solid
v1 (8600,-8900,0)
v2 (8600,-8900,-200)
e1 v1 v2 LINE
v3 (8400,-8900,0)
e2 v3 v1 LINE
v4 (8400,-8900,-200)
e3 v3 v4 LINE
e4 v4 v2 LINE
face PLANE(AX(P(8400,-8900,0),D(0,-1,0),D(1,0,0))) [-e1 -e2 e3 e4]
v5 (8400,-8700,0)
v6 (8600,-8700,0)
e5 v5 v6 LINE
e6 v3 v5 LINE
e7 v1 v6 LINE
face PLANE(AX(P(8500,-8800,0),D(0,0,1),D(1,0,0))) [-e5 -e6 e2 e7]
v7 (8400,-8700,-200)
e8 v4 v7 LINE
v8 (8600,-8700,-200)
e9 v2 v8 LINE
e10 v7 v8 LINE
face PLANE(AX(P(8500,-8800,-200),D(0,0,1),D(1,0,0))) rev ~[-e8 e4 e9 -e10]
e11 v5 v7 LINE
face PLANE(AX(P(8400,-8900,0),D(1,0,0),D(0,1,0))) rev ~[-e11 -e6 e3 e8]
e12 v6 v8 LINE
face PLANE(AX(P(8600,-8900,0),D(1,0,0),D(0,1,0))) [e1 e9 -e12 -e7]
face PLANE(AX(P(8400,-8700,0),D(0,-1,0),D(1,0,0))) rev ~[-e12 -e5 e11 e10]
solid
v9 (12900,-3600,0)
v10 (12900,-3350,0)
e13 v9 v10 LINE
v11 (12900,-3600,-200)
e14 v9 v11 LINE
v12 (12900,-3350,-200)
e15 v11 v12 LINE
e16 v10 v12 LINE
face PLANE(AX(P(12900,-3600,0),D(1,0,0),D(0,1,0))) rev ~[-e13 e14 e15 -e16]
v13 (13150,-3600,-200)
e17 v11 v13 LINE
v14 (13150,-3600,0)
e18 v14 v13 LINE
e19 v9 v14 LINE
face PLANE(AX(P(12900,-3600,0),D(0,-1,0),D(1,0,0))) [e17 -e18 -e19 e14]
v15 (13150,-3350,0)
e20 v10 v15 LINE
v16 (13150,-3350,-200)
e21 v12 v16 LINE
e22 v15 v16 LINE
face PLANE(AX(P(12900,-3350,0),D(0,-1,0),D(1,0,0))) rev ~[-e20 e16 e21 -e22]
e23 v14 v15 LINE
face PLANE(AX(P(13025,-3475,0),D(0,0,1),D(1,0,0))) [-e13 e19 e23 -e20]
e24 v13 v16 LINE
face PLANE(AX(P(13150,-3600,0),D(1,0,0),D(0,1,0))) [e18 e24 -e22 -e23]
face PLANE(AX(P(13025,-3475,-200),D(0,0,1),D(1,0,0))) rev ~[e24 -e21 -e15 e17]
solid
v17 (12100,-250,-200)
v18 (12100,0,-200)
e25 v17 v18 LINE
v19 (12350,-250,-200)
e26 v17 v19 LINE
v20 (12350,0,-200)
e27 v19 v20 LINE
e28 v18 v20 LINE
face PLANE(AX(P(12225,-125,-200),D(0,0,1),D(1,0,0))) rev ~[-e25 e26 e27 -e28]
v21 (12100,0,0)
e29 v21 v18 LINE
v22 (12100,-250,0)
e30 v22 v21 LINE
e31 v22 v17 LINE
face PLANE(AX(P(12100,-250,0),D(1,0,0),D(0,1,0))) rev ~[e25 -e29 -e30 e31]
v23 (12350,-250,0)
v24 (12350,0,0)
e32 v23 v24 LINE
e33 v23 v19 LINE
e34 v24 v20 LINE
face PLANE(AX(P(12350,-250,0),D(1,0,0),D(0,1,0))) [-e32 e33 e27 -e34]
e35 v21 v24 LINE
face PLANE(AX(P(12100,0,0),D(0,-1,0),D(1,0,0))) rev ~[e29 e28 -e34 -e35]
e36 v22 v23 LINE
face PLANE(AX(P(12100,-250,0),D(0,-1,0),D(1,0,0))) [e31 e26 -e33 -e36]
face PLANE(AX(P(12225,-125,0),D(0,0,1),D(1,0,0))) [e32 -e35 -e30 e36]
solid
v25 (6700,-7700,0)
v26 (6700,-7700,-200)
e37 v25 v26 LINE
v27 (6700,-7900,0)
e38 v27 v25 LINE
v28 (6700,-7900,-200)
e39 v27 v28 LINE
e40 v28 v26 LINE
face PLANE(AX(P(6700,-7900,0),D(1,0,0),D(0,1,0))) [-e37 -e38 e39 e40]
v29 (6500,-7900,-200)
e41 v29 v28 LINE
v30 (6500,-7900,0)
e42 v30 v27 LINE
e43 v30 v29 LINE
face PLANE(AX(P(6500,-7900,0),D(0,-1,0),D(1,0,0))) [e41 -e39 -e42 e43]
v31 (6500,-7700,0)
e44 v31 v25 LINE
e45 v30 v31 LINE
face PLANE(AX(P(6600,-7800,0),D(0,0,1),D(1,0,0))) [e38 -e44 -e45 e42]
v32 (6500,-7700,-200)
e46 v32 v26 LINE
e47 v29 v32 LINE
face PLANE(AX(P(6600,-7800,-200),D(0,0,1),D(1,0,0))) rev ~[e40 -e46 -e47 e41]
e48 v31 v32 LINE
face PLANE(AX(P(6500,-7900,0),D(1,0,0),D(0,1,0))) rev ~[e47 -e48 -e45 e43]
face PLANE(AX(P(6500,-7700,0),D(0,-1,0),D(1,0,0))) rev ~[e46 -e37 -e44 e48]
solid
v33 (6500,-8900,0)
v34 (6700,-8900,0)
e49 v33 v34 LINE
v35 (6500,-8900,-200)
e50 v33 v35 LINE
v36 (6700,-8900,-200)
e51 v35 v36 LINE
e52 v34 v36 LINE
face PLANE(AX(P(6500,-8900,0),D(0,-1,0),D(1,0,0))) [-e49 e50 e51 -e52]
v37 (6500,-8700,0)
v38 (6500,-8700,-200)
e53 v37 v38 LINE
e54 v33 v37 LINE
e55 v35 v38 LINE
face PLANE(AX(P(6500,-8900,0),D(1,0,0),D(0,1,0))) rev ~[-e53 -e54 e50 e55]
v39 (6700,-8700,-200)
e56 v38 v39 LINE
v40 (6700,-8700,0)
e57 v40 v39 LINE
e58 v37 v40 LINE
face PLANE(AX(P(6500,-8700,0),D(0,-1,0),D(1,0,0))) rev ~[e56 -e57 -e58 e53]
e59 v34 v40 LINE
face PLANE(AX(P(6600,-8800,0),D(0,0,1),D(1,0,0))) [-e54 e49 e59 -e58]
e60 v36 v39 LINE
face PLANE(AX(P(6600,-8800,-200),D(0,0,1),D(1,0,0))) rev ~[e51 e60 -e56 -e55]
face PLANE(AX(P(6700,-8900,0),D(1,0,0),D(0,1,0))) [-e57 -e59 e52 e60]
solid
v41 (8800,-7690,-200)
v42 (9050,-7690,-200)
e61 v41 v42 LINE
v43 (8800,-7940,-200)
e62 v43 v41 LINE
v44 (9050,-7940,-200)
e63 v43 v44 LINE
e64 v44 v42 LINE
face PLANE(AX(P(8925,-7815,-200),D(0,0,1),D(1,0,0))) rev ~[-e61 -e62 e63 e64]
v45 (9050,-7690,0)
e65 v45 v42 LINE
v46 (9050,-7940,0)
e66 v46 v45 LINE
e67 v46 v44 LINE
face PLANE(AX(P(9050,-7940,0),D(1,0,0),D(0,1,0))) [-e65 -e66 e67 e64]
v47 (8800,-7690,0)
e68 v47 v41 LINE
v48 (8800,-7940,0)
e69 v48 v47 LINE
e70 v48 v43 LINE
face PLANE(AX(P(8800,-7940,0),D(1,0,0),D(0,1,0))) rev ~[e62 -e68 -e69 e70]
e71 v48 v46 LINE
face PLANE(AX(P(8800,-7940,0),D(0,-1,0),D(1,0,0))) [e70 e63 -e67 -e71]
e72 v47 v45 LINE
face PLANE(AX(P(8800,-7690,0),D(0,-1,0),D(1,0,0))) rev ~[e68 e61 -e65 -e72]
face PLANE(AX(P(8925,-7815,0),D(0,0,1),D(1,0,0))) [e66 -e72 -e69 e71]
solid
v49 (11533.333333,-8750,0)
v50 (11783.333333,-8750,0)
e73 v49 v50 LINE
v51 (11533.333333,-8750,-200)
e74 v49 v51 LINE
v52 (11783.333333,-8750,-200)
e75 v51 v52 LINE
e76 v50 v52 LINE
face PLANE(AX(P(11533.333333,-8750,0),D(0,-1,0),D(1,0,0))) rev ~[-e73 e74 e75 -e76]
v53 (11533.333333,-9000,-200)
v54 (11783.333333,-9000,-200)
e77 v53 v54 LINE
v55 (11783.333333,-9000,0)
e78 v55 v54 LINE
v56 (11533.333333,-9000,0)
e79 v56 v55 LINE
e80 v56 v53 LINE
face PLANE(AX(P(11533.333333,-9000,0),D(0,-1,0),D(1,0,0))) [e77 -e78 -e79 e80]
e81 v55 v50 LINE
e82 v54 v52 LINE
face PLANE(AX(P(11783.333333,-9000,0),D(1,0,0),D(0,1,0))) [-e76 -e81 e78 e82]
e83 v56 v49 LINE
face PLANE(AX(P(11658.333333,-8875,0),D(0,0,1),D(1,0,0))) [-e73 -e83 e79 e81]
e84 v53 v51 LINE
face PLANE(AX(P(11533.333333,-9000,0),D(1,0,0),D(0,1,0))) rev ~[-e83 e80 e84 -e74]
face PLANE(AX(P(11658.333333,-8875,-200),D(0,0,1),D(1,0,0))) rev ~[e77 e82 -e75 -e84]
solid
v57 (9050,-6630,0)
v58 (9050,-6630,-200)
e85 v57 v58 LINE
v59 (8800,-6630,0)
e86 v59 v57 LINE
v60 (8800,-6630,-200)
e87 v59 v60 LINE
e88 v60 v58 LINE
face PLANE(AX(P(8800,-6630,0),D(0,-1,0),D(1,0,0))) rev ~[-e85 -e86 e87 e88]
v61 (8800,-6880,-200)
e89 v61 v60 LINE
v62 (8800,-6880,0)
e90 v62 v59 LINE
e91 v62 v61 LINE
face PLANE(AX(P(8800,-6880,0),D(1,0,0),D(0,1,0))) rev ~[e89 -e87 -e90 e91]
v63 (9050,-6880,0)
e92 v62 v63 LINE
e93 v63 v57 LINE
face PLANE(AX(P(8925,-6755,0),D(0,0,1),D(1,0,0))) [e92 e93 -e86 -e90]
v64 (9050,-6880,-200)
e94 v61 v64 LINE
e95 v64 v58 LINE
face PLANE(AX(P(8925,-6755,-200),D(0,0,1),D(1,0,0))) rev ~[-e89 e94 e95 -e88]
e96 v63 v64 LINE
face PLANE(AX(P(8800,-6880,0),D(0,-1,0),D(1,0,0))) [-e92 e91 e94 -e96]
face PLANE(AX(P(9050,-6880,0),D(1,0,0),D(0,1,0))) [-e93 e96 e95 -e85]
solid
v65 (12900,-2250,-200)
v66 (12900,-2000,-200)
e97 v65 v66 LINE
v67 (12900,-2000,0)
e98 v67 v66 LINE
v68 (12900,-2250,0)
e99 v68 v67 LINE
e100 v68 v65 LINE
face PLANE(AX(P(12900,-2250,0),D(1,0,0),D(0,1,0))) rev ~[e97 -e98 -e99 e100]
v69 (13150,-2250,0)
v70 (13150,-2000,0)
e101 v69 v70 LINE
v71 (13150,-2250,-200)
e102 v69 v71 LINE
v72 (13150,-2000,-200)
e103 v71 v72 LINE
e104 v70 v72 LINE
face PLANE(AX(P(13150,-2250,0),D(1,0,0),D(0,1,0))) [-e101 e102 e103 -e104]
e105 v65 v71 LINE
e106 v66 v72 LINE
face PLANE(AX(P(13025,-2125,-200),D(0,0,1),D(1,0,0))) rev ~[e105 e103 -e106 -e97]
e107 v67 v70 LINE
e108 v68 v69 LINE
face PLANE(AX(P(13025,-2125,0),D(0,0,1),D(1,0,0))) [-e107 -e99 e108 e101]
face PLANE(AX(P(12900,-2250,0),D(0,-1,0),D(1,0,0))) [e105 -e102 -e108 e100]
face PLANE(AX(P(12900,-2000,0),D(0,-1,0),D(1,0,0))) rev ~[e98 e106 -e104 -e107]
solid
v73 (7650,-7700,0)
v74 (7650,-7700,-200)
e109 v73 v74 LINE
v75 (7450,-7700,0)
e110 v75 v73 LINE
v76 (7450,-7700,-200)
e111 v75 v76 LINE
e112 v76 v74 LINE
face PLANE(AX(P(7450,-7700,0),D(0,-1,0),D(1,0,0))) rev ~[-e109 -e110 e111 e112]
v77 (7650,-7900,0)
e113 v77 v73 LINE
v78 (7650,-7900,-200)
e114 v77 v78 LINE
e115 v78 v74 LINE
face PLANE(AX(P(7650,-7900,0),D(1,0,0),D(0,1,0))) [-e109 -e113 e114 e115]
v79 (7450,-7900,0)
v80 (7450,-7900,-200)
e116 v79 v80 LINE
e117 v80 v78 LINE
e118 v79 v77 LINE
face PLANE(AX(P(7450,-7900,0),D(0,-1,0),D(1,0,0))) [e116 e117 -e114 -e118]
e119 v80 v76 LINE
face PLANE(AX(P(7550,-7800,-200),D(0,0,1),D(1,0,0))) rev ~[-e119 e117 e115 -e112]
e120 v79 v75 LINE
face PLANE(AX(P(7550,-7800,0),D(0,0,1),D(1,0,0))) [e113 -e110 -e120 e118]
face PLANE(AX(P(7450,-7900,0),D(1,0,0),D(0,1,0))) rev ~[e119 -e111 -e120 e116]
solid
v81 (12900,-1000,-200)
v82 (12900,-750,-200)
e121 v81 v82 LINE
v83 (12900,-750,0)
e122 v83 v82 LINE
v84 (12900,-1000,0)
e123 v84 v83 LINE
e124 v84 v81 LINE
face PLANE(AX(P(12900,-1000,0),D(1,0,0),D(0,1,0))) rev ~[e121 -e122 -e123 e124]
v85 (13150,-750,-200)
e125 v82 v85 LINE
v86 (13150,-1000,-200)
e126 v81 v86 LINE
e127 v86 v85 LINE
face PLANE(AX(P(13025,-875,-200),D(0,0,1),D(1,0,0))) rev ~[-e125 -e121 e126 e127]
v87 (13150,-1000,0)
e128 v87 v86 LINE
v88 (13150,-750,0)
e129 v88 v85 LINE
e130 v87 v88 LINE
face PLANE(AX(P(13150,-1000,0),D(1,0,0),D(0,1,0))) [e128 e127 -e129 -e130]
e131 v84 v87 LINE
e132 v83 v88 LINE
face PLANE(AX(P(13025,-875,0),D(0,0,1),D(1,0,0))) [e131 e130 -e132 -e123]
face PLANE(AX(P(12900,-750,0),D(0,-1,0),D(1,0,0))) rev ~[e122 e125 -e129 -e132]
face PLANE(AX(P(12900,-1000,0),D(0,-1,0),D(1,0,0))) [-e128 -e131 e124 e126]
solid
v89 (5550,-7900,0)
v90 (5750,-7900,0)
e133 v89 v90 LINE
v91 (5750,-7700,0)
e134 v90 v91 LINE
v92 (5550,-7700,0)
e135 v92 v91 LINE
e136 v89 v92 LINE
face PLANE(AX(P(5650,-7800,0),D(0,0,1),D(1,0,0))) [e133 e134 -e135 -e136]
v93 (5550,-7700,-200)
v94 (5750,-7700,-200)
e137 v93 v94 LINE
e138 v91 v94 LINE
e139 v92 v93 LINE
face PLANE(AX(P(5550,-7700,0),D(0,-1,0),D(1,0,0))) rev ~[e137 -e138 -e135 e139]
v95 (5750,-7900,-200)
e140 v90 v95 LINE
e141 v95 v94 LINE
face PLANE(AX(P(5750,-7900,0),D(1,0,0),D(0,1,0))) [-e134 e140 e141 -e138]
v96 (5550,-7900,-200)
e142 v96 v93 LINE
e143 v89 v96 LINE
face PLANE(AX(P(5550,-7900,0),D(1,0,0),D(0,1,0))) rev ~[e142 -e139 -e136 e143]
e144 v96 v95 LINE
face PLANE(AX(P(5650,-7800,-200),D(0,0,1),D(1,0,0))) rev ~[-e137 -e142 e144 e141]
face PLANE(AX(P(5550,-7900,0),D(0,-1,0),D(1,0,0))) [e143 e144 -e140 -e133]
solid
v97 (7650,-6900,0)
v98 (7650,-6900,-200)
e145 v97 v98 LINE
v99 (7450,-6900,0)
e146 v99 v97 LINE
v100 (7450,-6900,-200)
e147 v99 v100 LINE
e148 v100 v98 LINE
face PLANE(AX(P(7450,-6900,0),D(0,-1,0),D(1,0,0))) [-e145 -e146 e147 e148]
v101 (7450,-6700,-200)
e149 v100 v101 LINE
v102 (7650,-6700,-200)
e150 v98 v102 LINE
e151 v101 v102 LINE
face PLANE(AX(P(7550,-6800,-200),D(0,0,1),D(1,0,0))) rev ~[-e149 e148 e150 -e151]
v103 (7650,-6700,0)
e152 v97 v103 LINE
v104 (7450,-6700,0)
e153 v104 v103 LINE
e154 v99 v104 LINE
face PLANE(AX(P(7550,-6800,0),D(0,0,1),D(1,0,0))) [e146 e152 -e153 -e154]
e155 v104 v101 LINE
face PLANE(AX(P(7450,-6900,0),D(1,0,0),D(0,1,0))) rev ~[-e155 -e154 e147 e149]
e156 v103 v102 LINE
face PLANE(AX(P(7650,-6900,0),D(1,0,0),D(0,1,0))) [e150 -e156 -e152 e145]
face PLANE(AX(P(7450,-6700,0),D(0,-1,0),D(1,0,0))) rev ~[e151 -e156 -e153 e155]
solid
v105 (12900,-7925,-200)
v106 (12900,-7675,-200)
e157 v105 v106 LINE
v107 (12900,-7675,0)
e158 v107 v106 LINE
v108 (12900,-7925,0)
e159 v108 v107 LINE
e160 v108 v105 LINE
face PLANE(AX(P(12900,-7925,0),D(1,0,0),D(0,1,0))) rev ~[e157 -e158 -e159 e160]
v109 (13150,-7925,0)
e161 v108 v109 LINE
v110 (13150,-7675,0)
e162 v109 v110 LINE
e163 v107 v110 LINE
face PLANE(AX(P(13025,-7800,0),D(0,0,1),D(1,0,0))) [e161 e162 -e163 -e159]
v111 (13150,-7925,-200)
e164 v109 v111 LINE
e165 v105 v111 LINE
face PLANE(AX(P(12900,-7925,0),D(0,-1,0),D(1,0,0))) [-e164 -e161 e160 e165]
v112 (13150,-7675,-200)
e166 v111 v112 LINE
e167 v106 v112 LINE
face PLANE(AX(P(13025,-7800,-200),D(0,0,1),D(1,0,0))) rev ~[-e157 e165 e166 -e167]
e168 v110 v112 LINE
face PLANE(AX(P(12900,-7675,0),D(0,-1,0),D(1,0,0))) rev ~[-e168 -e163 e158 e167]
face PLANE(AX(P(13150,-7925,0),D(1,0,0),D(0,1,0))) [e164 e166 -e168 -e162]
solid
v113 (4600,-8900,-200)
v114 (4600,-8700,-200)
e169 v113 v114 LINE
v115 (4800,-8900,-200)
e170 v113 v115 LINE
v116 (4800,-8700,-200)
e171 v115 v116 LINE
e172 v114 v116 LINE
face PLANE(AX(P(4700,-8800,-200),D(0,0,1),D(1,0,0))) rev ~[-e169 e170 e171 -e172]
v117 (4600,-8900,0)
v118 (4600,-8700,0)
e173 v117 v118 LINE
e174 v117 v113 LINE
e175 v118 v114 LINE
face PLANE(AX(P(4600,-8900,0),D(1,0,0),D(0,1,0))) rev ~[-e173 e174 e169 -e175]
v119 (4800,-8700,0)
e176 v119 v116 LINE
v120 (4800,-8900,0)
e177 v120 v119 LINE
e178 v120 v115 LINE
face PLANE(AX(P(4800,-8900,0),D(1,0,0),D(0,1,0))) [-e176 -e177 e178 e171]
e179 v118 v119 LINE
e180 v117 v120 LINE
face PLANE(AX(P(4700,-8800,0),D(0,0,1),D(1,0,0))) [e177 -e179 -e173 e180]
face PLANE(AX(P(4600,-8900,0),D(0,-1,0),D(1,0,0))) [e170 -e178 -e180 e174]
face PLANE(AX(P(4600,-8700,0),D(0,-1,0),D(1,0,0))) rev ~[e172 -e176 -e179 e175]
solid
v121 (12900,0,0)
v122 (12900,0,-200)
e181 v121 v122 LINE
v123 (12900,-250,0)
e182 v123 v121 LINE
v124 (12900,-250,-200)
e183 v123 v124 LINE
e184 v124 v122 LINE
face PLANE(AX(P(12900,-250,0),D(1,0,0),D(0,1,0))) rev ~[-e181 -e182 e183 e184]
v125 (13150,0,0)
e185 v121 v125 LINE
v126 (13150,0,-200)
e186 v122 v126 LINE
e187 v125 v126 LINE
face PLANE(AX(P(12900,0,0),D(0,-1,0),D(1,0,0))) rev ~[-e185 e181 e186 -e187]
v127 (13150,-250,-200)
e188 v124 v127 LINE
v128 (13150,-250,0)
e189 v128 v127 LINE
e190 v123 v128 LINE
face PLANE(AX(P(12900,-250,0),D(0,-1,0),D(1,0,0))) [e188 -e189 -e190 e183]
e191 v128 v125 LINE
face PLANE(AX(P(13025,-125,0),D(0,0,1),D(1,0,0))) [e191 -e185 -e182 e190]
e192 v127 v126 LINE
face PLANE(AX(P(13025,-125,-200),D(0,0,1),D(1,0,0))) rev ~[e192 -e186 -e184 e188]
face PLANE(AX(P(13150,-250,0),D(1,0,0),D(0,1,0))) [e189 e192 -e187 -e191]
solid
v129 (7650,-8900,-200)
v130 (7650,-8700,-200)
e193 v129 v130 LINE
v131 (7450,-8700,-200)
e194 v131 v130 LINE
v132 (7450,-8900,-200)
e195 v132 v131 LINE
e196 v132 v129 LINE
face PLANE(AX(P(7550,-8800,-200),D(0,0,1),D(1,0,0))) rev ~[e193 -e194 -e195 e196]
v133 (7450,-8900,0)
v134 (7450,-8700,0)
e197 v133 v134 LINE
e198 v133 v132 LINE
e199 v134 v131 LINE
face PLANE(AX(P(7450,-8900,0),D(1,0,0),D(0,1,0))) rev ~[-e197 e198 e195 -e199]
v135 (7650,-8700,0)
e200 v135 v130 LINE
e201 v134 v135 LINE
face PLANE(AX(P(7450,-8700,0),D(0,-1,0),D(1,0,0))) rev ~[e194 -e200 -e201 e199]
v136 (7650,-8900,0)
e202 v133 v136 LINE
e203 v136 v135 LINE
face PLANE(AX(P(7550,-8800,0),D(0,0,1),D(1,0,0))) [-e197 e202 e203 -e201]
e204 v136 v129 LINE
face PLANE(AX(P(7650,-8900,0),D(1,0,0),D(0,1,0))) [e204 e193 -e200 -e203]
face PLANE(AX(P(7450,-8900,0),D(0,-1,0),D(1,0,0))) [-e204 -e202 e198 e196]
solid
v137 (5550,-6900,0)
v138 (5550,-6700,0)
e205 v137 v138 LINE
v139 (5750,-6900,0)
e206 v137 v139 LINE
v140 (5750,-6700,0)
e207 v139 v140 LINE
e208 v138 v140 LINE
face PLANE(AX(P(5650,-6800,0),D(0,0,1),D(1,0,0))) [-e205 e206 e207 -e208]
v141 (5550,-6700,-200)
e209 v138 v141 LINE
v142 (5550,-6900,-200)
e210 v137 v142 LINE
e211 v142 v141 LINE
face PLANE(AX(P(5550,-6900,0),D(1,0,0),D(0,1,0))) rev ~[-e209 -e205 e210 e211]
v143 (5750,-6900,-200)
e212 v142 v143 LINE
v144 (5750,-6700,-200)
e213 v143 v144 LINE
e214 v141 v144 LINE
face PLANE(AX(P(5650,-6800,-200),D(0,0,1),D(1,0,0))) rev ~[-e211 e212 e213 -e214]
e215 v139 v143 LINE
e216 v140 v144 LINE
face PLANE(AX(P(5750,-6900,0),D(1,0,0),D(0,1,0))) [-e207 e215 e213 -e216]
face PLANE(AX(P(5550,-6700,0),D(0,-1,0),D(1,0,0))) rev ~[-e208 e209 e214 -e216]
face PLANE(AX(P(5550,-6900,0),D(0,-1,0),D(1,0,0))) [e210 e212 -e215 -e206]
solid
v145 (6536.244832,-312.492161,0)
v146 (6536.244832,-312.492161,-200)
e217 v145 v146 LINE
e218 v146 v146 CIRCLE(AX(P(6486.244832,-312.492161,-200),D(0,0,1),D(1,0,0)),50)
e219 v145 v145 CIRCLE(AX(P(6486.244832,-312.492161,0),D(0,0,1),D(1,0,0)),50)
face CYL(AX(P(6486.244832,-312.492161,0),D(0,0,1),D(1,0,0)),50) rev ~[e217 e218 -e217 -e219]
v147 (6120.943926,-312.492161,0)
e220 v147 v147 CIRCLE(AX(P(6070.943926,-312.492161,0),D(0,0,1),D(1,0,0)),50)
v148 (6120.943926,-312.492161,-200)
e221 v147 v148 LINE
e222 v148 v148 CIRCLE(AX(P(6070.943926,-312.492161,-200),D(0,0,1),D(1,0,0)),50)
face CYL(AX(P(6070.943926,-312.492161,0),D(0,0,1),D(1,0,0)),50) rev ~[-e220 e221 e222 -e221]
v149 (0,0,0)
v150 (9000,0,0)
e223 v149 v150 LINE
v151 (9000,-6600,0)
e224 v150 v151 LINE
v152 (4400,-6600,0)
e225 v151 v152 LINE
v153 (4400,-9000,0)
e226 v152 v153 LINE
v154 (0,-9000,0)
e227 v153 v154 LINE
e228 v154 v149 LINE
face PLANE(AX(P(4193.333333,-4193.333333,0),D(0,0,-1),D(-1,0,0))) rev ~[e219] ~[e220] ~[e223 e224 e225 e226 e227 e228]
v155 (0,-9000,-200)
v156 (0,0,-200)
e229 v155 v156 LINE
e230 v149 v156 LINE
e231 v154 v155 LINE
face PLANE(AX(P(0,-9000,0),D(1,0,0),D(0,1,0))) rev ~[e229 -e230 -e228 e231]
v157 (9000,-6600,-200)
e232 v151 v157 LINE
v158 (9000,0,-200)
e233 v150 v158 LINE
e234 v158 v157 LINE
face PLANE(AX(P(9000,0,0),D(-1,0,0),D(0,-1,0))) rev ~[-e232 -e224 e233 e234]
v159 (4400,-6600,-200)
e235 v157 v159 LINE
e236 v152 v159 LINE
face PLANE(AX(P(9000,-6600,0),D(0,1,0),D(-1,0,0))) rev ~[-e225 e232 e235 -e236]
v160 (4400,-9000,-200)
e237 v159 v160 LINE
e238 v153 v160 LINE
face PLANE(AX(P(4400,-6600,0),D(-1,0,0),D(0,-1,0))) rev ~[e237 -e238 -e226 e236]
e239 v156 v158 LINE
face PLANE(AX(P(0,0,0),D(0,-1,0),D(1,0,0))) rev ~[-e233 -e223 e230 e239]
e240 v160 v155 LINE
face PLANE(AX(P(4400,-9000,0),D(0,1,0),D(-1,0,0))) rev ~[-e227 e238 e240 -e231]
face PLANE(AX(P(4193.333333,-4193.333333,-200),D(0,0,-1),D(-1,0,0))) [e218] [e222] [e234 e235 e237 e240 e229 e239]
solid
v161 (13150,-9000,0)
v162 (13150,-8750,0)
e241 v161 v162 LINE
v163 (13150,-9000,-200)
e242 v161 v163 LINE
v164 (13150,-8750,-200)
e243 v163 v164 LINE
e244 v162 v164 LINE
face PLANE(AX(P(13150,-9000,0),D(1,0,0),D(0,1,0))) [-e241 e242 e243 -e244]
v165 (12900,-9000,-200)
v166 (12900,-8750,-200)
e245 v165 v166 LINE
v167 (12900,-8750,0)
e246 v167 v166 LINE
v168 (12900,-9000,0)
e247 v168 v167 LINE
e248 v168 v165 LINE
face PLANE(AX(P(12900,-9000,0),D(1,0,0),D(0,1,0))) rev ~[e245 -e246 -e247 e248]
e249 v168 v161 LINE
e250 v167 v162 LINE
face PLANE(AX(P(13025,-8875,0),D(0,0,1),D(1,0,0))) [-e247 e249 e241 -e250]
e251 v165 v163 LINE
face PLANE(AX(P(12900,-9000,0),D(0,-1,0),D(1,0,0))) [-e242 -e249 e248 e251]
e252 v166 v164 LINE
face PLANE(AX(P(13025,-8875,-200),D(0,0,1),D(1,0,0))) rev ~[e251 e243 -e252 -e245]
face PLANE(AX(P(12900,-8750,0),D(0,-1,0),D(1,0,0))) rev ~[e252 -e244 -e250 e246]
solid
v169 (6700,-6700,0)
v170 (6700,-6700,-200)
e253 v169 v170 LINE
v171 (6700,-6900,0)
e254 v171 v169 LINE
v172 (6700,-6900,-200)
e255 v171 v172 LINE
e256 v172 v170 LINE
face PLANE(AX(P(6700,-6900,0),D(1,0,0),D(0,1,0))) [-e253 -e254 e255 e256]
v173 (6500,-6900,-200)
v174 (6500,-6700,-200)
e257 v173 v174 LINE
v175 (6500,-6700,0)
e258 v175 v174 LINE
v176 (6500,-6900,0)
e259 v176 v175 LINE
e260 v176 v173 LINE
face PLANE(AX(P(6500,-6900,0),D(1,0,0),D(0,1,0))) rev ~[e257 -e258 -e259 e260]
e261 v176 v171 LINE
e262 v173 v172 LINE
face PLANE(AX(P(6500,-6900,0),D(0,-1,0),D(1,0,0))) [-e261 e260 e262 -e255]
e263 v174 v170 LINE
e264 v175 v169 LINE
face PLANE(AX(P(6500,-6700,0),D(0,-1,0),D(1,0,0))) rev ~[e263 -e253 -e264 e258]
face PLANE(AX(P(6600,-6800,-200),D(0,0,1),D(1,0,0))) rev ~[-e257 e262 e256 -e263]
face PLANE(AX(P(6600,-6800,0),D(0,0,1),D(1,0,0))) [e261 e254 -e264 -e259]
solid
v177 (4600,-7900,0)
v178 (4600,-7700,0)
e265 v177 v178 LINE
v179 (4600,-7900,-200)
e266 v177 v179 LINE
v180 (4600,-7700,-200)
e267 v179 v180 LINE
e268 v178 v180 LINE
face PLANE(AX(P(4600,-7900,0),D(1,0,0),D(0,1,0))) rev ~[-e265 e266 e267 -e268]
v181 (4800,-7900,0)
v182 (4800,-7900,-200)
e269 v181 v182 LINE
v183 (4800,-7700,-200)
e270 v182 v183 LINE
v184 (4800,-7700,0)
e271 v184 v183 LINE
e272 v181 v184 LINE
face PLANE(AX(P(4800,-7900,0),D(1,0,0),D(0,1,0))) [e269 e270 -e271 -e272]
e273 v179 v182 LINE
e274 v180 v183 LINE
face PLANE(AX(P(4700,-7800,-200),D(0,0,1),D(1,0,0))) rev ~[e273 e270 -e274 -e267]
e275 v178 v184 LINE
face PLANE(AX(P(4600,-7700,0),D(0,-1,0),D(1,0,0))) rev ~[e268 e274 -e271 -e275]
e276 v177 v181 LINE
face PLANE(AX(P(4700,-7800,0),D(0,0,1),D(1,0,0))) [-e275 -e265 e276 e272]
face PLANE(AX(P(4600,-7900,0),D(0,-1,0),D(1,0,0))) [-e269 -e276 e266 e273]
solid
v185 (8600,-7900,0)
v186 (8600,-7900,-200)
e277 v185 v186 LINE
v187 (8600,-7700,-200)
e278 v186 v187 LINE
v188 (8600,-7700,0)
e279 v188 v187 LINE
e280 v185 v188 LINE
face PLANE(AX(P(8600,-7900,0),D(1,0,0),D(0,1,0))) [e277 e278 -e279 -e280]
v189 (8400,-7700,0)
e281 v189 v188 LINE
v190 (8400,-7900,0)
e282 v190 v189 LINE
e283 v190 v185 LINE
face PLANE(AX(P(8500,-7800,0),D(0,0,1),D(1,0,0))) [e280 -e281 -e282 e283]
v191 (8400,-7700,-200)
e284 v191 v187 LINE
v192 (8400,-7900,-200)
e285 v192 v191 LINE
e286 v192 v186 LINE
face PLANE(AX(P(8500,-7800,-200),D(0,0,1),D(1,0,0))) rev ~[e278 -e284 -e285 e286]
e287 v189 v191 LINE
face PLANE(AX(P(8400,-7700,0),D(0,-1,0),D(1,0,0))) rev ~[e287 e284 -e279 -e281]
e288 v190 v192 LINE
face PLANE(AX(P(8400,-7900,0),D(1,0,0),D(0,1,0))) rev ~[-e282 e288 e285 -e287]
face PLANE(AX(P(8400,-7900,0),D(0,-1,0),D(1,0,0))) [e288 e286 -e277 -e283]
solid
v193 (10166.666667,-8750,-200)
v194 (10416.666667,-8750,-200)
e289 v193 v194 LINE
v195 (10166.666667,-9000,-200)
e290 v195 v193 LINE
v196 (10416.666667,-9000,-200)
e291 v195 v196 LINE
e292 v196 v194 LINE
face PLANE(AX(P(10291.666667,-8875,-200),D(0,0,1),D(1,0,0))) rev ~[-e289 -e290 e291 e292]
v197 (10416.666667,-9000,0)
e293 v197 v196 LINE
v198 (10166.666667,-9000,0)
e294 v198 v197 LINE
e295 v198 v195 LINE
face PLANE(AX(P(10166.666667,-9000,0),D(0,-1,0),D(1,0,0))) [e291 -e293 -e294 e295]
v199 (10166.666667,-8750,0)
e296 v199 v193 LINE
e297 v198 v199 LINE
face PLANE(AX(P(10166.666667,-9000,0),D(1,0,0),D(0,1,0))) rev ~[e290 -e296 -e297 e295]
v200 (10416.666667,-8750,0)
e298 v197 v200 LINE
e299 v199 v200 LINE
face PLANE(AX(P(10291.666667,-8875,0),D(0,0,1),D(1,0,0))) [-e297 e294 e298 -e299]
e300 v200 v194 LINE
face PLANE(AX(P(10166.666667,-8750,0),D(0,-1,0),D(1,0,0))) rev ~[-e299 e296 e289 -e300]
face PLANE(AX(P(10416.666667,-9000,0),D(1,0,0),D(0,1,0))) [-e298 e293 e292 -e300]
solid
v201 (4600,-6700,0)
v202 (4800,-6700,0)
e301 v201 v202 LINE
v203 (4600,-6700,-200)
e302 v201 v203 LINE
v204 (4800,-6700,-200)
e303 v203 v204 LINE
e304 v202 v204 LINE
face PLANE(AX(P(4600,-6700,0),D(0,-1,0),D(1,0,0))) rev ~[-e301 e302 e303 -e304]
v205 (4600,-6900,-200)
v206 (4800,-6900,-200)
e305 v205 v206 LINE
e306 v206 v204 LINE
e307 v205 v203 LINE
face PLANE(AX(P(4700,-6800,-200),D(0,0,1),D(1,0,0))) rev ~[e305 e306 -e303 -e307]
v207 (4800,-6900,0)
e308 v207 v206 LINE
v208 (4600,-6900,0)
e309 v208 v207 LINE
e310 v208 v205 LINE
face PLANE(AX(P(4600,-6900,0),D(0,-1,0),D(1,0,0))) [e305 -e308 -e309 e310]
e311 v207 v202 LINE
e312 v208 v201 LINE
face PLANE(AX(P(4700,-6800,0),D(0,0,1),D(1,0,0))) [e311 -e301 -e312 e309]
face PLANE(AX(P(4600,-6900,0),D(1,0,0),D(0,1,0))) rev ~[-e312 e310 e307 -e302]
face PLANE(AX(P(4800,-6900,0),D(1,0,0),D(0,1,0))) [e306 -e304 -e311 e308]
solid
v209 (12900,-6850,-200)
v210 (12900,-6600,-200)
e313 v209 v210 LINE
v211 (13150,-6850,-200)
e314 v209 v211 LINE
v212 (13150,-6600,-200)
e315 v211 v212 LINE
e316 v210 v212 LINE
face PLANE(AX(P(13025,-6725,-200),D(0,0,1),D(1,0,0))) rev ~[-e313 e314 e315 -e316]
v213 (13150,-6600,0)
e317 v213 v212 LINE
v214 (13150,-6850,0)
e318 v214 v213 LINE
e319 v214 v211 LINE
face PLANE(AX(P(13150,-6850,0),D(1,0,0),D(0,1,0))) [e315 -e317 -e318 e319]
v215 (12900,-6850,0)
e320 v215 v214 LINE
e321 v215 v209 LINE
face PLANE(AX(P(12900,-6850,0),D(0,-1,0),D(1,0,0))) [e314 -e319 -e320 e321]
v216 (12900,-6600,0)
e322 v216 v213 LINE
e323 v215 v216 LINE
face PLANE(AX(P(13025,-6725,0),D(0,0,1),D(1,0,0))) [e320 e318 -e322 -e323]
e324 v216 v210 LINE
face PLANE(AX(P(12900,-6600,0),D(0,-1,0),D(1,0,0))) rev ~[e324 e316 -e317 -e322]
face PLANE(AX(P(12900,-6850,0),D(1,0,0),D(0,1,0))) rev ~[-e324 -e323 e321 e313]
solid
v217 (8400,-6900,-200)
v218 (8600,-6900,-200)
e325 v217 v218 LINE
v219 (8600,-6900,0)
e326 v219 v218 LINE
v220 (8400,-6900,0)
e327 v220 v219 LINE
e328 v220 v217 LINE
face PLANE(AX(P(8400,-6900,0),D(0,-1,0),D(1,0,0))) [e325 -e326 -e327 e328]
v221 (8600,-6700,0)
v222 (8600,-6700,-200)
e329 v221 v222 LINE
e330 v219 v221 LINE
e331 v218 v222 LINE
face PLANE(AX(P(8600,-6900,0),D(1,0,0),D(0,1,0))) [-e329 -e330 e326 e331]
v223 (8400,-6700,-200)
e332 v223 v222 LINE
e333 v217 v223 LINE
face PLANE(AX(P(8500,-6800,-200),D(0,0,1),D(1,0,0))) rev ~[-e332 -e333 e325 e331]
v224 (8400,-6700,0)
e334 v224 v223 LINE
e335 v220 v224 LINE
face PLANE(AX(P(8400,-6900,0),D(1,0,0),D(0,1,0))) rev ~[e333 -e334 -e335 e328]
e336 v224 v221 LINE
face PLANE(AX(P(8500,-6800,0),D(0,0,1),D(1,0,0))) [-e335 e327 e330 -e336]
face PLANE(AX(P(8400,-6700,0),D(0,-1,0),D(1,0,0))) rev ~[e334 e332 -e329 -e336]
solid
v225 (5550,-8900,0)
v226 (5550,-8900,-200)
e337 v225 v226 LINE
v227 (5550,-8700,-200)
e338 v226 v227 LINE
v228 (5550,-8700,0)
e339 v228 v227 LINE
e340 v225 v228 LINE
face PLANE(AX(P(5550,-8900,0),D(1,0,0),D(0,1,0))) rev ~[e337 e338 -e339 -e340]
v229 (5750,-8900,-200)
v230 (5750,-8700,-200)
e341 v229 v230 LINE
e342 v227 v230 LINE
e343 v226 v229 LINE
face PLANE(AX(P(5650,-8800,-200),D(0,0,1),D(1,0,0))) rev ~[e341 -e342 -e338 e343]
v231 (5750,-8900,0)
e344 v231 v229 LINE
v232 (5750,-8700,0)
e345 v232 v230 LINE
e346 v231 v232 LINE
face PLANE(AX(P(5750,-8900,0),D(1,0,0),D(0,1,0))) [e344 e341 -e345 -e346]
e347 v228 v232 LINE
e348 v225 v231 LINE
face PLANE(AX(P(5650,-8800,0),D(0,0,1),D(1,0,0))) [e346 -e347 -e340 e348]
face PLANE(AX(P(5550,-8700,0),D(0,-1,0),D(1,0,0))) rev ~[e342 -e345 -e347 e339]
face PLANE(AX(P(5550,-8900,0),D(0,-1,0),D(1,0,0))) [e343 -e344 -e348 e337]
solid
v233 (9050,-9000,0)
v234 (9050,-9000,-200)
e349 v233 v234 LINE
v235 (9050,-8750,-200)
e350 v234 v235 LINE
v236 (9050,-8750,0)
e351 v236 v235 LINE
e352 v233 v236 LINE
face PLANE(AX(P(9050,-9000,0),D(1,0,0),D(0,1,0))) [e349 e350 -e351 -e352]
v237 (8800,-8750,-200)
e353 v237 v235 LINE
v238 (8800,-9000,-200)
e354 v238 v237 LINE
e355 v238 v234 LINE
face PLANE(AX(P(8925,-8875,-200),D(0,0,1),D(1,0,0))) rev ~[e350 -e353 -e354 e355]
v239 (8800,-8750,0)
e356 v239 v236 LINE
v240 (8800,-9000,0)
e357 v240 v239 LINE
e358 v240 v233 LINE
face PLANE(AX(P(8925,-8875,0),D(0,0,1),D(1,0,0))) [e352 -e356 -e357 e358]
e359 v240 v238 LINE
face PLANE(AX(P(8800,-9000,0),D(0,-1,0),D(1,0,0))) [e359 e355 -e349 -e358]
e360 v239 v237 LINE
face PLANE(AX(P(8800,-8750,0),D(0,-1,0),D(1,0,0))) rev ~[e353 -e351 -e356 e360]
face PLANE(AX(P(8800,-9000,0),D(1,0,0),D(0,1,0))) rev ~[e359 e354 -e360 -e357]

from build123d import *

# Parameters (mm, degrees)
SKETCH_1_R         = 50
EXTRUDE_1_DEPTH    = 200
SKETCH_1_W         = 250
SKETCH_1_H         = 250
EXTRUDE_1_2_DEPTH  = 200
EXTRUDE_1_3_DEPTH  = 200
EXTRUDE_1_4_DEPTH  = 200
EXTRUDE_1_5_DEPTH  = 200
EXTRUDE_1_6_DEPTH  = 200
EXTRUDE_1_7_DEPTH  = 200
EXTRUDE_1_8_DEPTH  = 200
EXTRUDE_1_9_DEPTH  = 200
EXTRUDE_1_10_DEPTH = 200
EXTRUDE_1_11_DEPTH = 200
EXTRUDE_1_12_DEPTH = 200
EXTRUDE_1_13_DEPTH = 200
EXTRUDE_1_14_DEPTH = 200
SKETCH_1_W_2       = 200
SKETCH_1_H_2       = 200
EXTRUDE_1_15_DEPTH = 200
EXTRUDE_1_16_DEPTH = 200
EXTRUDE_1_17_DEPTH = 200
EXTRUDE_1_18_DEPTH = 200
EXTRUDE_1_19_DEPTH = 200
EXTRUDE_1_20_DEPTH = 200
EXTRUDE_1_21_DEPTH = 200
EXTRUDE_1_22_DEPTH = 200
EXTRUDE_1_23_DEPTH = 200
EXTRUDE_1_24_DEPTH = 200
EXTRUDE_1_25_DEPTH = 200
EXTRUDE_1_26_DEPTH = 200
EXTRUDE_1_27_DEPTH = 200
EXTRUDE_1_28_DEPTH = 200
EXTRUDE_1_29_DEPTH = 200


with BuildPart() as part:
    # Эскиз1 → Бобышка-Вытянуть1 (new body)
    with BuildSketch(Plane.XY):
        Polygon((0, 0), (9000, 0), (9000, -6600), (4400, -6600), (4400, -9000), (0, -9000), align=None)
        with Locations((6486.244831881, -312.492160742)):
            Circle(SKETCH_1_R, mode=Mode.SUBTRACT)
        with Locations((6070.943926101, -312.492160742)):
            Circle(SKETCH_1_R, mode=Mode.SUBTRACT)
    extrude(amount=-EXTRUDE_1_DEPTH)


with BuildPart() as body_2:
    # Эскиз1 → Extrude 1 2 (new body)
    with BuildSketch(Plane.XY):
        with Locations((8925, -8875)):
            Rectangle(SKETCH_1_W, SKETCH_1_H)
    extrude(amount=-EXTRUDE_1_2_DEPTH)


with BuildPart() as body_3:
    # Эскиз1 → Extrude 1 3 (new body)
    with BuildSketch(Plane.XY):
        with Locations((8925, -6755)):
            Rectangle(SKETCH_1_W, SKETCH_1_H)
    extrude(amount=-EXTRUDE_1_3_DEPTH)


with BuildPart() as body_4:
    # Эскиз1 → Extrude 1 4 (new body)
    with BuildSketch(Plane.XY):
        with Locations((8925, -7815)):
            Rectangle(SKETCH_1_W, SKETCH_1_H)
    extrude(amount=-EXTRUDE_1_4_DEPTH)


with BuildPart() as body_5:
    # Эскиз1 → Extrude 1 5 (new body)
    with BuildSketch(Plane.XY):
        with Locations((10291.666666667, -8875)):
            Rectangle(SKETCH_1_W, SKETCH_1_H)
    extrude(amount=-EXTRUDE_1_5_DEPTH)


with BuildPart() as body_6:
    # Эскиз1 → Extrude 1 6 (new body)
    with BuildSketch(Plane.XY):
        with Locations((11658.333333333, -8875)):
            Rectangle(SKETCH_1_W, SKETCH_1_H)
    extrude(amount=-EXTRUDE_1_6_DEPTH)


with BuildPart() as body_7:
    # Эскиз1 → Extrude 1 7 (new body)
    with BuildSketch(Plane.XY):
        with Locations((13025, -8875)):
            Rectangle(SKETCH_1_W, SKETCH_1_H)
    extrude(amount=-EXTRUDE_1_7_DEPTH)


with BuildPart() as body_8:
    # Эскиз1 → Extrude 1 8 (new body)
    with BuildSketch(Plane.XY):
        with Locations((13025, -6725)):
            Rectangle(SKETCH_1_W, SKETCH_1_H)
    extrude(amount=-EXTRUDE_1_8_DEPTH)


with BuildPart() as body_9:
    # Эскиз1 → Extrude 1 9 (new body)
    with BuildSketch(Plane.XY):
        with Locations((13025, -7800)):
            Rectangle(SKETCH_1_W, SKETCH_1_H)
    extrude(amount=-EXTRUDE_1_9_DEPTH)


with BuildPart() as body_10:
    # Эскиз1 → Extrude 1 10 (new body)
    with BuildSketch(Plane.XY):
        with Locations((13025, -3475)):
            Rectangle(SKETCH_1_W, SKETCH_1_H)
    extrude(amount=-EXTRUDE_1_10_DEPTH)


with BuildPart() as body_11:
    # Эскиз1 → Extrude 1 11 (new body)
    with BuildSketch(Plane.XY):
        with Locations((13025, -2125)):
            Rectangle(SKETCH_1_W, SKETCH_1_H)
    extrude(amount=-EXTRUDE_1_11_DEPTH)


with BuildPart() as body_12:
    # Эскиз1 → Extrude 1 12 (new body)
    with BuildSketch(Plane.XY):
        with Locations((13025, -875)):
            Rectangle(SKETCH_1_W, SKETCH_1_H)
    extrude(amount=-EXTRUDE_1_12_DEPTH)


with BuildPart() as body_13:
    # Эскиз1 → Extrude 1 13 (new body)
    with BuildSketch(Plane.XY):
        with Locations((13025, -125)):
            Rectangle(SKETCH_1_W, SKETCH_1_H)
    extrude(amount=-EXTRUDE_1_13_DEPTH)


with BuildPart() as body_14:
    # Эскиз1 → Extrude 1 14 (new body)
    with BuildSketch(Plane.XY):
        with Locations((12225, -125)):
            Rectangle(SKETCH_1_W, SKETCH_1_H)
    extrude(amount=-EXTRUDE_1_14_DEPTH)


with BuildPart() as body_15:
    # Эскиз1 → Extrude 1 15 (new body)
    with BuildSketch(Plane.XY):
        with Locations((4700, -6800)):
            Rectangle(SKETCH_1_W_2, SKETCH_1_H_2)
    extrude(amount=-EXTRUDE_1_15_DEPTH)


with BuildPart() as body_16:
    # Эскиз1 → Extrude 1 16 (new body)
    with BuildSketch(Plane.XY):
        with Locations((4700, -7800)):
            Rectangle(SKETCH_1_W_2, SKETCH_1_H_2)
    extrude(amount=-EXTRUDE_1_16_DEPTH)


with BuildPart() as body_17:
    # Эскиз1 → Extrude 1 17 (new body)
    with BuildSketch(Plane.XY):
        with Locations((4700, -8800)):
            Rectangle(SKETCH_1_W_2, SKETCH_1_H_2)
    extrude(amount=-EXTRUDE_1_17_DEPTH)


with BuildPart() as body_18:
    # Эскиз1 → Extrude 1 18 (new body)
    with BuildSketch(Plane.XY):
        with Locations((5650, -6800)):
            Rectangle(SKETCH_1_W_2, SKETCH_1_H_2)
    extrude(amount=-EXTRUDE_1_18_DEPTH)


with BuildPart() as body_19:
    # Эскиз1 → Extrude 1 19 (new body)
    with BuildSketch(Plane.XY):
        with Locations((5650, -7800)):
            Rectangle(SKETCH_1_W_2, SKETCH_1_H_2)
    extrude(amount=-EXTRUDE_1_19_DEPTH)


with BuildPart() as body_20:
    # Эскиз1 → Extrude 1 20 (new body)
    with BuildSketch(Plane.XY):
        with Locations((5650, -8800)):
            Rectangle(SKETCH_1_W_2, SKETCH_1_H_2)
    extrude(amount=-EXTRUDE_1_20_DEPTH)


with BuildPart() as body_21:
    # Эскиз1 → Extrude 1 21 (new body)
    with BuildSketch(Plane.XY):
        with Locations((6600, -6800)):
            Rectangle(SKETCH_1_W_2, SKETCH_1_H_2)
    extrude(amount=-EXTRUDE_1_21_DEPTH)


with BuildPart() as body_22:
    # Эскиз1 → Extrude 1 22 (new body)
    with BuildSketch(Plane.XY):
        with Locations((6600, -7800)):
            Rectangle(SKETCH_1_W_2, SKETCH_1_H_2)
    extrude(amount=-EXTRUDE_1_22_DEPTH)


with BuildPart() as body_23:
    # Эскиз1 → Extrude 1 23 (new body)
    with BuildSketch(Plane.XY):
        with Locations((6600, -8800)):
            Rectangle(SKETCH_1_W_2, SKETCH_1_H_2)
    extrude(amount=-EXTRUDE_1_23_DEPTH)


with BuildPart() as body_24:
    # Эскиз1 → Extrude 1 24 (new body)
    with BuildSketch(Plane.XY):
        with Locations((7550, -6800)):
            Rectangle(SKETCH_1_W_2, SKETCH_1_H_2)
    extrude(amount=-EXTRUDE_1_24_DEPTH)


with BuildPart() as body_25:
    # Эскиз1 → Extrude 1 25 (new body)
    with BuildSketch(Plane.XY):
        with Locations((7550, -7800)):
            Rectangle(SKETCH_1_W_2, SKETCH_1_H_2)
    extrude(amount=-EXTRUDE_1_25_DEPTH)


with BuildPart() as body_26:
    # Эскиз1 → Extrude 1 26 (new body)
    with BuildSketch(Plane.XY):
        with Locations((7550, -8800)):
            Rectangle(SKETCH_1_W_2, SKETCH_1_H_2)
    extrude(amount=-EXTRUDE_1_26_DEPTH)


with BuildPart() as body_27:
    # Эскиз1 → Extrude 1 27 (new body)
    with BuildSketch(Plane.XY):
        with Locations((8500, -6800)):
            Rectangle(SKETCH_1_W_2, SKETCH_1_H_2)
    extrude(amount=-EXTRUDE_1_27_DEPTH)


with BuildPart() as body_28:
    # Эскиз1 → Extrude 1 28 (new body)
    with BuildSketch(Plane.XY):
        with Locations((8500, -7800)):
            Rectangle(SKETCH_1_W_2, SKETCH_1_H_2)
    extrude(amount=-EXTRUDE_1_28_DEPTH)


with BuildPart() as body_29:
    # Эскиз1 → Extrude 1 29 (new body)
    with BuildSketch(Plane.XY):
        with Locations((8500, -8800)):
            Rectangle(SKETCH_1_W_2, SKETCH_1_H_2)
    extrude(amount=-EXTRUDE_1_29_DEPTH)


solid = Compound([part.part, body_2.part, body_3.part, body_4.part, body_5.part, body_6.part, body_7.part, body_8.part, body_9.part, body_10.part, body_11.part, body_12.part, body_13.part, body_14.part, body_15.part, body_16.part, body_17.part, body_18.part, body_19.part, body_20.part, body_21.part, body_22.part, body_23.part, body_24.part, body_25.part, body_26.part, body_27.part, body_28.part, body_29.part])
